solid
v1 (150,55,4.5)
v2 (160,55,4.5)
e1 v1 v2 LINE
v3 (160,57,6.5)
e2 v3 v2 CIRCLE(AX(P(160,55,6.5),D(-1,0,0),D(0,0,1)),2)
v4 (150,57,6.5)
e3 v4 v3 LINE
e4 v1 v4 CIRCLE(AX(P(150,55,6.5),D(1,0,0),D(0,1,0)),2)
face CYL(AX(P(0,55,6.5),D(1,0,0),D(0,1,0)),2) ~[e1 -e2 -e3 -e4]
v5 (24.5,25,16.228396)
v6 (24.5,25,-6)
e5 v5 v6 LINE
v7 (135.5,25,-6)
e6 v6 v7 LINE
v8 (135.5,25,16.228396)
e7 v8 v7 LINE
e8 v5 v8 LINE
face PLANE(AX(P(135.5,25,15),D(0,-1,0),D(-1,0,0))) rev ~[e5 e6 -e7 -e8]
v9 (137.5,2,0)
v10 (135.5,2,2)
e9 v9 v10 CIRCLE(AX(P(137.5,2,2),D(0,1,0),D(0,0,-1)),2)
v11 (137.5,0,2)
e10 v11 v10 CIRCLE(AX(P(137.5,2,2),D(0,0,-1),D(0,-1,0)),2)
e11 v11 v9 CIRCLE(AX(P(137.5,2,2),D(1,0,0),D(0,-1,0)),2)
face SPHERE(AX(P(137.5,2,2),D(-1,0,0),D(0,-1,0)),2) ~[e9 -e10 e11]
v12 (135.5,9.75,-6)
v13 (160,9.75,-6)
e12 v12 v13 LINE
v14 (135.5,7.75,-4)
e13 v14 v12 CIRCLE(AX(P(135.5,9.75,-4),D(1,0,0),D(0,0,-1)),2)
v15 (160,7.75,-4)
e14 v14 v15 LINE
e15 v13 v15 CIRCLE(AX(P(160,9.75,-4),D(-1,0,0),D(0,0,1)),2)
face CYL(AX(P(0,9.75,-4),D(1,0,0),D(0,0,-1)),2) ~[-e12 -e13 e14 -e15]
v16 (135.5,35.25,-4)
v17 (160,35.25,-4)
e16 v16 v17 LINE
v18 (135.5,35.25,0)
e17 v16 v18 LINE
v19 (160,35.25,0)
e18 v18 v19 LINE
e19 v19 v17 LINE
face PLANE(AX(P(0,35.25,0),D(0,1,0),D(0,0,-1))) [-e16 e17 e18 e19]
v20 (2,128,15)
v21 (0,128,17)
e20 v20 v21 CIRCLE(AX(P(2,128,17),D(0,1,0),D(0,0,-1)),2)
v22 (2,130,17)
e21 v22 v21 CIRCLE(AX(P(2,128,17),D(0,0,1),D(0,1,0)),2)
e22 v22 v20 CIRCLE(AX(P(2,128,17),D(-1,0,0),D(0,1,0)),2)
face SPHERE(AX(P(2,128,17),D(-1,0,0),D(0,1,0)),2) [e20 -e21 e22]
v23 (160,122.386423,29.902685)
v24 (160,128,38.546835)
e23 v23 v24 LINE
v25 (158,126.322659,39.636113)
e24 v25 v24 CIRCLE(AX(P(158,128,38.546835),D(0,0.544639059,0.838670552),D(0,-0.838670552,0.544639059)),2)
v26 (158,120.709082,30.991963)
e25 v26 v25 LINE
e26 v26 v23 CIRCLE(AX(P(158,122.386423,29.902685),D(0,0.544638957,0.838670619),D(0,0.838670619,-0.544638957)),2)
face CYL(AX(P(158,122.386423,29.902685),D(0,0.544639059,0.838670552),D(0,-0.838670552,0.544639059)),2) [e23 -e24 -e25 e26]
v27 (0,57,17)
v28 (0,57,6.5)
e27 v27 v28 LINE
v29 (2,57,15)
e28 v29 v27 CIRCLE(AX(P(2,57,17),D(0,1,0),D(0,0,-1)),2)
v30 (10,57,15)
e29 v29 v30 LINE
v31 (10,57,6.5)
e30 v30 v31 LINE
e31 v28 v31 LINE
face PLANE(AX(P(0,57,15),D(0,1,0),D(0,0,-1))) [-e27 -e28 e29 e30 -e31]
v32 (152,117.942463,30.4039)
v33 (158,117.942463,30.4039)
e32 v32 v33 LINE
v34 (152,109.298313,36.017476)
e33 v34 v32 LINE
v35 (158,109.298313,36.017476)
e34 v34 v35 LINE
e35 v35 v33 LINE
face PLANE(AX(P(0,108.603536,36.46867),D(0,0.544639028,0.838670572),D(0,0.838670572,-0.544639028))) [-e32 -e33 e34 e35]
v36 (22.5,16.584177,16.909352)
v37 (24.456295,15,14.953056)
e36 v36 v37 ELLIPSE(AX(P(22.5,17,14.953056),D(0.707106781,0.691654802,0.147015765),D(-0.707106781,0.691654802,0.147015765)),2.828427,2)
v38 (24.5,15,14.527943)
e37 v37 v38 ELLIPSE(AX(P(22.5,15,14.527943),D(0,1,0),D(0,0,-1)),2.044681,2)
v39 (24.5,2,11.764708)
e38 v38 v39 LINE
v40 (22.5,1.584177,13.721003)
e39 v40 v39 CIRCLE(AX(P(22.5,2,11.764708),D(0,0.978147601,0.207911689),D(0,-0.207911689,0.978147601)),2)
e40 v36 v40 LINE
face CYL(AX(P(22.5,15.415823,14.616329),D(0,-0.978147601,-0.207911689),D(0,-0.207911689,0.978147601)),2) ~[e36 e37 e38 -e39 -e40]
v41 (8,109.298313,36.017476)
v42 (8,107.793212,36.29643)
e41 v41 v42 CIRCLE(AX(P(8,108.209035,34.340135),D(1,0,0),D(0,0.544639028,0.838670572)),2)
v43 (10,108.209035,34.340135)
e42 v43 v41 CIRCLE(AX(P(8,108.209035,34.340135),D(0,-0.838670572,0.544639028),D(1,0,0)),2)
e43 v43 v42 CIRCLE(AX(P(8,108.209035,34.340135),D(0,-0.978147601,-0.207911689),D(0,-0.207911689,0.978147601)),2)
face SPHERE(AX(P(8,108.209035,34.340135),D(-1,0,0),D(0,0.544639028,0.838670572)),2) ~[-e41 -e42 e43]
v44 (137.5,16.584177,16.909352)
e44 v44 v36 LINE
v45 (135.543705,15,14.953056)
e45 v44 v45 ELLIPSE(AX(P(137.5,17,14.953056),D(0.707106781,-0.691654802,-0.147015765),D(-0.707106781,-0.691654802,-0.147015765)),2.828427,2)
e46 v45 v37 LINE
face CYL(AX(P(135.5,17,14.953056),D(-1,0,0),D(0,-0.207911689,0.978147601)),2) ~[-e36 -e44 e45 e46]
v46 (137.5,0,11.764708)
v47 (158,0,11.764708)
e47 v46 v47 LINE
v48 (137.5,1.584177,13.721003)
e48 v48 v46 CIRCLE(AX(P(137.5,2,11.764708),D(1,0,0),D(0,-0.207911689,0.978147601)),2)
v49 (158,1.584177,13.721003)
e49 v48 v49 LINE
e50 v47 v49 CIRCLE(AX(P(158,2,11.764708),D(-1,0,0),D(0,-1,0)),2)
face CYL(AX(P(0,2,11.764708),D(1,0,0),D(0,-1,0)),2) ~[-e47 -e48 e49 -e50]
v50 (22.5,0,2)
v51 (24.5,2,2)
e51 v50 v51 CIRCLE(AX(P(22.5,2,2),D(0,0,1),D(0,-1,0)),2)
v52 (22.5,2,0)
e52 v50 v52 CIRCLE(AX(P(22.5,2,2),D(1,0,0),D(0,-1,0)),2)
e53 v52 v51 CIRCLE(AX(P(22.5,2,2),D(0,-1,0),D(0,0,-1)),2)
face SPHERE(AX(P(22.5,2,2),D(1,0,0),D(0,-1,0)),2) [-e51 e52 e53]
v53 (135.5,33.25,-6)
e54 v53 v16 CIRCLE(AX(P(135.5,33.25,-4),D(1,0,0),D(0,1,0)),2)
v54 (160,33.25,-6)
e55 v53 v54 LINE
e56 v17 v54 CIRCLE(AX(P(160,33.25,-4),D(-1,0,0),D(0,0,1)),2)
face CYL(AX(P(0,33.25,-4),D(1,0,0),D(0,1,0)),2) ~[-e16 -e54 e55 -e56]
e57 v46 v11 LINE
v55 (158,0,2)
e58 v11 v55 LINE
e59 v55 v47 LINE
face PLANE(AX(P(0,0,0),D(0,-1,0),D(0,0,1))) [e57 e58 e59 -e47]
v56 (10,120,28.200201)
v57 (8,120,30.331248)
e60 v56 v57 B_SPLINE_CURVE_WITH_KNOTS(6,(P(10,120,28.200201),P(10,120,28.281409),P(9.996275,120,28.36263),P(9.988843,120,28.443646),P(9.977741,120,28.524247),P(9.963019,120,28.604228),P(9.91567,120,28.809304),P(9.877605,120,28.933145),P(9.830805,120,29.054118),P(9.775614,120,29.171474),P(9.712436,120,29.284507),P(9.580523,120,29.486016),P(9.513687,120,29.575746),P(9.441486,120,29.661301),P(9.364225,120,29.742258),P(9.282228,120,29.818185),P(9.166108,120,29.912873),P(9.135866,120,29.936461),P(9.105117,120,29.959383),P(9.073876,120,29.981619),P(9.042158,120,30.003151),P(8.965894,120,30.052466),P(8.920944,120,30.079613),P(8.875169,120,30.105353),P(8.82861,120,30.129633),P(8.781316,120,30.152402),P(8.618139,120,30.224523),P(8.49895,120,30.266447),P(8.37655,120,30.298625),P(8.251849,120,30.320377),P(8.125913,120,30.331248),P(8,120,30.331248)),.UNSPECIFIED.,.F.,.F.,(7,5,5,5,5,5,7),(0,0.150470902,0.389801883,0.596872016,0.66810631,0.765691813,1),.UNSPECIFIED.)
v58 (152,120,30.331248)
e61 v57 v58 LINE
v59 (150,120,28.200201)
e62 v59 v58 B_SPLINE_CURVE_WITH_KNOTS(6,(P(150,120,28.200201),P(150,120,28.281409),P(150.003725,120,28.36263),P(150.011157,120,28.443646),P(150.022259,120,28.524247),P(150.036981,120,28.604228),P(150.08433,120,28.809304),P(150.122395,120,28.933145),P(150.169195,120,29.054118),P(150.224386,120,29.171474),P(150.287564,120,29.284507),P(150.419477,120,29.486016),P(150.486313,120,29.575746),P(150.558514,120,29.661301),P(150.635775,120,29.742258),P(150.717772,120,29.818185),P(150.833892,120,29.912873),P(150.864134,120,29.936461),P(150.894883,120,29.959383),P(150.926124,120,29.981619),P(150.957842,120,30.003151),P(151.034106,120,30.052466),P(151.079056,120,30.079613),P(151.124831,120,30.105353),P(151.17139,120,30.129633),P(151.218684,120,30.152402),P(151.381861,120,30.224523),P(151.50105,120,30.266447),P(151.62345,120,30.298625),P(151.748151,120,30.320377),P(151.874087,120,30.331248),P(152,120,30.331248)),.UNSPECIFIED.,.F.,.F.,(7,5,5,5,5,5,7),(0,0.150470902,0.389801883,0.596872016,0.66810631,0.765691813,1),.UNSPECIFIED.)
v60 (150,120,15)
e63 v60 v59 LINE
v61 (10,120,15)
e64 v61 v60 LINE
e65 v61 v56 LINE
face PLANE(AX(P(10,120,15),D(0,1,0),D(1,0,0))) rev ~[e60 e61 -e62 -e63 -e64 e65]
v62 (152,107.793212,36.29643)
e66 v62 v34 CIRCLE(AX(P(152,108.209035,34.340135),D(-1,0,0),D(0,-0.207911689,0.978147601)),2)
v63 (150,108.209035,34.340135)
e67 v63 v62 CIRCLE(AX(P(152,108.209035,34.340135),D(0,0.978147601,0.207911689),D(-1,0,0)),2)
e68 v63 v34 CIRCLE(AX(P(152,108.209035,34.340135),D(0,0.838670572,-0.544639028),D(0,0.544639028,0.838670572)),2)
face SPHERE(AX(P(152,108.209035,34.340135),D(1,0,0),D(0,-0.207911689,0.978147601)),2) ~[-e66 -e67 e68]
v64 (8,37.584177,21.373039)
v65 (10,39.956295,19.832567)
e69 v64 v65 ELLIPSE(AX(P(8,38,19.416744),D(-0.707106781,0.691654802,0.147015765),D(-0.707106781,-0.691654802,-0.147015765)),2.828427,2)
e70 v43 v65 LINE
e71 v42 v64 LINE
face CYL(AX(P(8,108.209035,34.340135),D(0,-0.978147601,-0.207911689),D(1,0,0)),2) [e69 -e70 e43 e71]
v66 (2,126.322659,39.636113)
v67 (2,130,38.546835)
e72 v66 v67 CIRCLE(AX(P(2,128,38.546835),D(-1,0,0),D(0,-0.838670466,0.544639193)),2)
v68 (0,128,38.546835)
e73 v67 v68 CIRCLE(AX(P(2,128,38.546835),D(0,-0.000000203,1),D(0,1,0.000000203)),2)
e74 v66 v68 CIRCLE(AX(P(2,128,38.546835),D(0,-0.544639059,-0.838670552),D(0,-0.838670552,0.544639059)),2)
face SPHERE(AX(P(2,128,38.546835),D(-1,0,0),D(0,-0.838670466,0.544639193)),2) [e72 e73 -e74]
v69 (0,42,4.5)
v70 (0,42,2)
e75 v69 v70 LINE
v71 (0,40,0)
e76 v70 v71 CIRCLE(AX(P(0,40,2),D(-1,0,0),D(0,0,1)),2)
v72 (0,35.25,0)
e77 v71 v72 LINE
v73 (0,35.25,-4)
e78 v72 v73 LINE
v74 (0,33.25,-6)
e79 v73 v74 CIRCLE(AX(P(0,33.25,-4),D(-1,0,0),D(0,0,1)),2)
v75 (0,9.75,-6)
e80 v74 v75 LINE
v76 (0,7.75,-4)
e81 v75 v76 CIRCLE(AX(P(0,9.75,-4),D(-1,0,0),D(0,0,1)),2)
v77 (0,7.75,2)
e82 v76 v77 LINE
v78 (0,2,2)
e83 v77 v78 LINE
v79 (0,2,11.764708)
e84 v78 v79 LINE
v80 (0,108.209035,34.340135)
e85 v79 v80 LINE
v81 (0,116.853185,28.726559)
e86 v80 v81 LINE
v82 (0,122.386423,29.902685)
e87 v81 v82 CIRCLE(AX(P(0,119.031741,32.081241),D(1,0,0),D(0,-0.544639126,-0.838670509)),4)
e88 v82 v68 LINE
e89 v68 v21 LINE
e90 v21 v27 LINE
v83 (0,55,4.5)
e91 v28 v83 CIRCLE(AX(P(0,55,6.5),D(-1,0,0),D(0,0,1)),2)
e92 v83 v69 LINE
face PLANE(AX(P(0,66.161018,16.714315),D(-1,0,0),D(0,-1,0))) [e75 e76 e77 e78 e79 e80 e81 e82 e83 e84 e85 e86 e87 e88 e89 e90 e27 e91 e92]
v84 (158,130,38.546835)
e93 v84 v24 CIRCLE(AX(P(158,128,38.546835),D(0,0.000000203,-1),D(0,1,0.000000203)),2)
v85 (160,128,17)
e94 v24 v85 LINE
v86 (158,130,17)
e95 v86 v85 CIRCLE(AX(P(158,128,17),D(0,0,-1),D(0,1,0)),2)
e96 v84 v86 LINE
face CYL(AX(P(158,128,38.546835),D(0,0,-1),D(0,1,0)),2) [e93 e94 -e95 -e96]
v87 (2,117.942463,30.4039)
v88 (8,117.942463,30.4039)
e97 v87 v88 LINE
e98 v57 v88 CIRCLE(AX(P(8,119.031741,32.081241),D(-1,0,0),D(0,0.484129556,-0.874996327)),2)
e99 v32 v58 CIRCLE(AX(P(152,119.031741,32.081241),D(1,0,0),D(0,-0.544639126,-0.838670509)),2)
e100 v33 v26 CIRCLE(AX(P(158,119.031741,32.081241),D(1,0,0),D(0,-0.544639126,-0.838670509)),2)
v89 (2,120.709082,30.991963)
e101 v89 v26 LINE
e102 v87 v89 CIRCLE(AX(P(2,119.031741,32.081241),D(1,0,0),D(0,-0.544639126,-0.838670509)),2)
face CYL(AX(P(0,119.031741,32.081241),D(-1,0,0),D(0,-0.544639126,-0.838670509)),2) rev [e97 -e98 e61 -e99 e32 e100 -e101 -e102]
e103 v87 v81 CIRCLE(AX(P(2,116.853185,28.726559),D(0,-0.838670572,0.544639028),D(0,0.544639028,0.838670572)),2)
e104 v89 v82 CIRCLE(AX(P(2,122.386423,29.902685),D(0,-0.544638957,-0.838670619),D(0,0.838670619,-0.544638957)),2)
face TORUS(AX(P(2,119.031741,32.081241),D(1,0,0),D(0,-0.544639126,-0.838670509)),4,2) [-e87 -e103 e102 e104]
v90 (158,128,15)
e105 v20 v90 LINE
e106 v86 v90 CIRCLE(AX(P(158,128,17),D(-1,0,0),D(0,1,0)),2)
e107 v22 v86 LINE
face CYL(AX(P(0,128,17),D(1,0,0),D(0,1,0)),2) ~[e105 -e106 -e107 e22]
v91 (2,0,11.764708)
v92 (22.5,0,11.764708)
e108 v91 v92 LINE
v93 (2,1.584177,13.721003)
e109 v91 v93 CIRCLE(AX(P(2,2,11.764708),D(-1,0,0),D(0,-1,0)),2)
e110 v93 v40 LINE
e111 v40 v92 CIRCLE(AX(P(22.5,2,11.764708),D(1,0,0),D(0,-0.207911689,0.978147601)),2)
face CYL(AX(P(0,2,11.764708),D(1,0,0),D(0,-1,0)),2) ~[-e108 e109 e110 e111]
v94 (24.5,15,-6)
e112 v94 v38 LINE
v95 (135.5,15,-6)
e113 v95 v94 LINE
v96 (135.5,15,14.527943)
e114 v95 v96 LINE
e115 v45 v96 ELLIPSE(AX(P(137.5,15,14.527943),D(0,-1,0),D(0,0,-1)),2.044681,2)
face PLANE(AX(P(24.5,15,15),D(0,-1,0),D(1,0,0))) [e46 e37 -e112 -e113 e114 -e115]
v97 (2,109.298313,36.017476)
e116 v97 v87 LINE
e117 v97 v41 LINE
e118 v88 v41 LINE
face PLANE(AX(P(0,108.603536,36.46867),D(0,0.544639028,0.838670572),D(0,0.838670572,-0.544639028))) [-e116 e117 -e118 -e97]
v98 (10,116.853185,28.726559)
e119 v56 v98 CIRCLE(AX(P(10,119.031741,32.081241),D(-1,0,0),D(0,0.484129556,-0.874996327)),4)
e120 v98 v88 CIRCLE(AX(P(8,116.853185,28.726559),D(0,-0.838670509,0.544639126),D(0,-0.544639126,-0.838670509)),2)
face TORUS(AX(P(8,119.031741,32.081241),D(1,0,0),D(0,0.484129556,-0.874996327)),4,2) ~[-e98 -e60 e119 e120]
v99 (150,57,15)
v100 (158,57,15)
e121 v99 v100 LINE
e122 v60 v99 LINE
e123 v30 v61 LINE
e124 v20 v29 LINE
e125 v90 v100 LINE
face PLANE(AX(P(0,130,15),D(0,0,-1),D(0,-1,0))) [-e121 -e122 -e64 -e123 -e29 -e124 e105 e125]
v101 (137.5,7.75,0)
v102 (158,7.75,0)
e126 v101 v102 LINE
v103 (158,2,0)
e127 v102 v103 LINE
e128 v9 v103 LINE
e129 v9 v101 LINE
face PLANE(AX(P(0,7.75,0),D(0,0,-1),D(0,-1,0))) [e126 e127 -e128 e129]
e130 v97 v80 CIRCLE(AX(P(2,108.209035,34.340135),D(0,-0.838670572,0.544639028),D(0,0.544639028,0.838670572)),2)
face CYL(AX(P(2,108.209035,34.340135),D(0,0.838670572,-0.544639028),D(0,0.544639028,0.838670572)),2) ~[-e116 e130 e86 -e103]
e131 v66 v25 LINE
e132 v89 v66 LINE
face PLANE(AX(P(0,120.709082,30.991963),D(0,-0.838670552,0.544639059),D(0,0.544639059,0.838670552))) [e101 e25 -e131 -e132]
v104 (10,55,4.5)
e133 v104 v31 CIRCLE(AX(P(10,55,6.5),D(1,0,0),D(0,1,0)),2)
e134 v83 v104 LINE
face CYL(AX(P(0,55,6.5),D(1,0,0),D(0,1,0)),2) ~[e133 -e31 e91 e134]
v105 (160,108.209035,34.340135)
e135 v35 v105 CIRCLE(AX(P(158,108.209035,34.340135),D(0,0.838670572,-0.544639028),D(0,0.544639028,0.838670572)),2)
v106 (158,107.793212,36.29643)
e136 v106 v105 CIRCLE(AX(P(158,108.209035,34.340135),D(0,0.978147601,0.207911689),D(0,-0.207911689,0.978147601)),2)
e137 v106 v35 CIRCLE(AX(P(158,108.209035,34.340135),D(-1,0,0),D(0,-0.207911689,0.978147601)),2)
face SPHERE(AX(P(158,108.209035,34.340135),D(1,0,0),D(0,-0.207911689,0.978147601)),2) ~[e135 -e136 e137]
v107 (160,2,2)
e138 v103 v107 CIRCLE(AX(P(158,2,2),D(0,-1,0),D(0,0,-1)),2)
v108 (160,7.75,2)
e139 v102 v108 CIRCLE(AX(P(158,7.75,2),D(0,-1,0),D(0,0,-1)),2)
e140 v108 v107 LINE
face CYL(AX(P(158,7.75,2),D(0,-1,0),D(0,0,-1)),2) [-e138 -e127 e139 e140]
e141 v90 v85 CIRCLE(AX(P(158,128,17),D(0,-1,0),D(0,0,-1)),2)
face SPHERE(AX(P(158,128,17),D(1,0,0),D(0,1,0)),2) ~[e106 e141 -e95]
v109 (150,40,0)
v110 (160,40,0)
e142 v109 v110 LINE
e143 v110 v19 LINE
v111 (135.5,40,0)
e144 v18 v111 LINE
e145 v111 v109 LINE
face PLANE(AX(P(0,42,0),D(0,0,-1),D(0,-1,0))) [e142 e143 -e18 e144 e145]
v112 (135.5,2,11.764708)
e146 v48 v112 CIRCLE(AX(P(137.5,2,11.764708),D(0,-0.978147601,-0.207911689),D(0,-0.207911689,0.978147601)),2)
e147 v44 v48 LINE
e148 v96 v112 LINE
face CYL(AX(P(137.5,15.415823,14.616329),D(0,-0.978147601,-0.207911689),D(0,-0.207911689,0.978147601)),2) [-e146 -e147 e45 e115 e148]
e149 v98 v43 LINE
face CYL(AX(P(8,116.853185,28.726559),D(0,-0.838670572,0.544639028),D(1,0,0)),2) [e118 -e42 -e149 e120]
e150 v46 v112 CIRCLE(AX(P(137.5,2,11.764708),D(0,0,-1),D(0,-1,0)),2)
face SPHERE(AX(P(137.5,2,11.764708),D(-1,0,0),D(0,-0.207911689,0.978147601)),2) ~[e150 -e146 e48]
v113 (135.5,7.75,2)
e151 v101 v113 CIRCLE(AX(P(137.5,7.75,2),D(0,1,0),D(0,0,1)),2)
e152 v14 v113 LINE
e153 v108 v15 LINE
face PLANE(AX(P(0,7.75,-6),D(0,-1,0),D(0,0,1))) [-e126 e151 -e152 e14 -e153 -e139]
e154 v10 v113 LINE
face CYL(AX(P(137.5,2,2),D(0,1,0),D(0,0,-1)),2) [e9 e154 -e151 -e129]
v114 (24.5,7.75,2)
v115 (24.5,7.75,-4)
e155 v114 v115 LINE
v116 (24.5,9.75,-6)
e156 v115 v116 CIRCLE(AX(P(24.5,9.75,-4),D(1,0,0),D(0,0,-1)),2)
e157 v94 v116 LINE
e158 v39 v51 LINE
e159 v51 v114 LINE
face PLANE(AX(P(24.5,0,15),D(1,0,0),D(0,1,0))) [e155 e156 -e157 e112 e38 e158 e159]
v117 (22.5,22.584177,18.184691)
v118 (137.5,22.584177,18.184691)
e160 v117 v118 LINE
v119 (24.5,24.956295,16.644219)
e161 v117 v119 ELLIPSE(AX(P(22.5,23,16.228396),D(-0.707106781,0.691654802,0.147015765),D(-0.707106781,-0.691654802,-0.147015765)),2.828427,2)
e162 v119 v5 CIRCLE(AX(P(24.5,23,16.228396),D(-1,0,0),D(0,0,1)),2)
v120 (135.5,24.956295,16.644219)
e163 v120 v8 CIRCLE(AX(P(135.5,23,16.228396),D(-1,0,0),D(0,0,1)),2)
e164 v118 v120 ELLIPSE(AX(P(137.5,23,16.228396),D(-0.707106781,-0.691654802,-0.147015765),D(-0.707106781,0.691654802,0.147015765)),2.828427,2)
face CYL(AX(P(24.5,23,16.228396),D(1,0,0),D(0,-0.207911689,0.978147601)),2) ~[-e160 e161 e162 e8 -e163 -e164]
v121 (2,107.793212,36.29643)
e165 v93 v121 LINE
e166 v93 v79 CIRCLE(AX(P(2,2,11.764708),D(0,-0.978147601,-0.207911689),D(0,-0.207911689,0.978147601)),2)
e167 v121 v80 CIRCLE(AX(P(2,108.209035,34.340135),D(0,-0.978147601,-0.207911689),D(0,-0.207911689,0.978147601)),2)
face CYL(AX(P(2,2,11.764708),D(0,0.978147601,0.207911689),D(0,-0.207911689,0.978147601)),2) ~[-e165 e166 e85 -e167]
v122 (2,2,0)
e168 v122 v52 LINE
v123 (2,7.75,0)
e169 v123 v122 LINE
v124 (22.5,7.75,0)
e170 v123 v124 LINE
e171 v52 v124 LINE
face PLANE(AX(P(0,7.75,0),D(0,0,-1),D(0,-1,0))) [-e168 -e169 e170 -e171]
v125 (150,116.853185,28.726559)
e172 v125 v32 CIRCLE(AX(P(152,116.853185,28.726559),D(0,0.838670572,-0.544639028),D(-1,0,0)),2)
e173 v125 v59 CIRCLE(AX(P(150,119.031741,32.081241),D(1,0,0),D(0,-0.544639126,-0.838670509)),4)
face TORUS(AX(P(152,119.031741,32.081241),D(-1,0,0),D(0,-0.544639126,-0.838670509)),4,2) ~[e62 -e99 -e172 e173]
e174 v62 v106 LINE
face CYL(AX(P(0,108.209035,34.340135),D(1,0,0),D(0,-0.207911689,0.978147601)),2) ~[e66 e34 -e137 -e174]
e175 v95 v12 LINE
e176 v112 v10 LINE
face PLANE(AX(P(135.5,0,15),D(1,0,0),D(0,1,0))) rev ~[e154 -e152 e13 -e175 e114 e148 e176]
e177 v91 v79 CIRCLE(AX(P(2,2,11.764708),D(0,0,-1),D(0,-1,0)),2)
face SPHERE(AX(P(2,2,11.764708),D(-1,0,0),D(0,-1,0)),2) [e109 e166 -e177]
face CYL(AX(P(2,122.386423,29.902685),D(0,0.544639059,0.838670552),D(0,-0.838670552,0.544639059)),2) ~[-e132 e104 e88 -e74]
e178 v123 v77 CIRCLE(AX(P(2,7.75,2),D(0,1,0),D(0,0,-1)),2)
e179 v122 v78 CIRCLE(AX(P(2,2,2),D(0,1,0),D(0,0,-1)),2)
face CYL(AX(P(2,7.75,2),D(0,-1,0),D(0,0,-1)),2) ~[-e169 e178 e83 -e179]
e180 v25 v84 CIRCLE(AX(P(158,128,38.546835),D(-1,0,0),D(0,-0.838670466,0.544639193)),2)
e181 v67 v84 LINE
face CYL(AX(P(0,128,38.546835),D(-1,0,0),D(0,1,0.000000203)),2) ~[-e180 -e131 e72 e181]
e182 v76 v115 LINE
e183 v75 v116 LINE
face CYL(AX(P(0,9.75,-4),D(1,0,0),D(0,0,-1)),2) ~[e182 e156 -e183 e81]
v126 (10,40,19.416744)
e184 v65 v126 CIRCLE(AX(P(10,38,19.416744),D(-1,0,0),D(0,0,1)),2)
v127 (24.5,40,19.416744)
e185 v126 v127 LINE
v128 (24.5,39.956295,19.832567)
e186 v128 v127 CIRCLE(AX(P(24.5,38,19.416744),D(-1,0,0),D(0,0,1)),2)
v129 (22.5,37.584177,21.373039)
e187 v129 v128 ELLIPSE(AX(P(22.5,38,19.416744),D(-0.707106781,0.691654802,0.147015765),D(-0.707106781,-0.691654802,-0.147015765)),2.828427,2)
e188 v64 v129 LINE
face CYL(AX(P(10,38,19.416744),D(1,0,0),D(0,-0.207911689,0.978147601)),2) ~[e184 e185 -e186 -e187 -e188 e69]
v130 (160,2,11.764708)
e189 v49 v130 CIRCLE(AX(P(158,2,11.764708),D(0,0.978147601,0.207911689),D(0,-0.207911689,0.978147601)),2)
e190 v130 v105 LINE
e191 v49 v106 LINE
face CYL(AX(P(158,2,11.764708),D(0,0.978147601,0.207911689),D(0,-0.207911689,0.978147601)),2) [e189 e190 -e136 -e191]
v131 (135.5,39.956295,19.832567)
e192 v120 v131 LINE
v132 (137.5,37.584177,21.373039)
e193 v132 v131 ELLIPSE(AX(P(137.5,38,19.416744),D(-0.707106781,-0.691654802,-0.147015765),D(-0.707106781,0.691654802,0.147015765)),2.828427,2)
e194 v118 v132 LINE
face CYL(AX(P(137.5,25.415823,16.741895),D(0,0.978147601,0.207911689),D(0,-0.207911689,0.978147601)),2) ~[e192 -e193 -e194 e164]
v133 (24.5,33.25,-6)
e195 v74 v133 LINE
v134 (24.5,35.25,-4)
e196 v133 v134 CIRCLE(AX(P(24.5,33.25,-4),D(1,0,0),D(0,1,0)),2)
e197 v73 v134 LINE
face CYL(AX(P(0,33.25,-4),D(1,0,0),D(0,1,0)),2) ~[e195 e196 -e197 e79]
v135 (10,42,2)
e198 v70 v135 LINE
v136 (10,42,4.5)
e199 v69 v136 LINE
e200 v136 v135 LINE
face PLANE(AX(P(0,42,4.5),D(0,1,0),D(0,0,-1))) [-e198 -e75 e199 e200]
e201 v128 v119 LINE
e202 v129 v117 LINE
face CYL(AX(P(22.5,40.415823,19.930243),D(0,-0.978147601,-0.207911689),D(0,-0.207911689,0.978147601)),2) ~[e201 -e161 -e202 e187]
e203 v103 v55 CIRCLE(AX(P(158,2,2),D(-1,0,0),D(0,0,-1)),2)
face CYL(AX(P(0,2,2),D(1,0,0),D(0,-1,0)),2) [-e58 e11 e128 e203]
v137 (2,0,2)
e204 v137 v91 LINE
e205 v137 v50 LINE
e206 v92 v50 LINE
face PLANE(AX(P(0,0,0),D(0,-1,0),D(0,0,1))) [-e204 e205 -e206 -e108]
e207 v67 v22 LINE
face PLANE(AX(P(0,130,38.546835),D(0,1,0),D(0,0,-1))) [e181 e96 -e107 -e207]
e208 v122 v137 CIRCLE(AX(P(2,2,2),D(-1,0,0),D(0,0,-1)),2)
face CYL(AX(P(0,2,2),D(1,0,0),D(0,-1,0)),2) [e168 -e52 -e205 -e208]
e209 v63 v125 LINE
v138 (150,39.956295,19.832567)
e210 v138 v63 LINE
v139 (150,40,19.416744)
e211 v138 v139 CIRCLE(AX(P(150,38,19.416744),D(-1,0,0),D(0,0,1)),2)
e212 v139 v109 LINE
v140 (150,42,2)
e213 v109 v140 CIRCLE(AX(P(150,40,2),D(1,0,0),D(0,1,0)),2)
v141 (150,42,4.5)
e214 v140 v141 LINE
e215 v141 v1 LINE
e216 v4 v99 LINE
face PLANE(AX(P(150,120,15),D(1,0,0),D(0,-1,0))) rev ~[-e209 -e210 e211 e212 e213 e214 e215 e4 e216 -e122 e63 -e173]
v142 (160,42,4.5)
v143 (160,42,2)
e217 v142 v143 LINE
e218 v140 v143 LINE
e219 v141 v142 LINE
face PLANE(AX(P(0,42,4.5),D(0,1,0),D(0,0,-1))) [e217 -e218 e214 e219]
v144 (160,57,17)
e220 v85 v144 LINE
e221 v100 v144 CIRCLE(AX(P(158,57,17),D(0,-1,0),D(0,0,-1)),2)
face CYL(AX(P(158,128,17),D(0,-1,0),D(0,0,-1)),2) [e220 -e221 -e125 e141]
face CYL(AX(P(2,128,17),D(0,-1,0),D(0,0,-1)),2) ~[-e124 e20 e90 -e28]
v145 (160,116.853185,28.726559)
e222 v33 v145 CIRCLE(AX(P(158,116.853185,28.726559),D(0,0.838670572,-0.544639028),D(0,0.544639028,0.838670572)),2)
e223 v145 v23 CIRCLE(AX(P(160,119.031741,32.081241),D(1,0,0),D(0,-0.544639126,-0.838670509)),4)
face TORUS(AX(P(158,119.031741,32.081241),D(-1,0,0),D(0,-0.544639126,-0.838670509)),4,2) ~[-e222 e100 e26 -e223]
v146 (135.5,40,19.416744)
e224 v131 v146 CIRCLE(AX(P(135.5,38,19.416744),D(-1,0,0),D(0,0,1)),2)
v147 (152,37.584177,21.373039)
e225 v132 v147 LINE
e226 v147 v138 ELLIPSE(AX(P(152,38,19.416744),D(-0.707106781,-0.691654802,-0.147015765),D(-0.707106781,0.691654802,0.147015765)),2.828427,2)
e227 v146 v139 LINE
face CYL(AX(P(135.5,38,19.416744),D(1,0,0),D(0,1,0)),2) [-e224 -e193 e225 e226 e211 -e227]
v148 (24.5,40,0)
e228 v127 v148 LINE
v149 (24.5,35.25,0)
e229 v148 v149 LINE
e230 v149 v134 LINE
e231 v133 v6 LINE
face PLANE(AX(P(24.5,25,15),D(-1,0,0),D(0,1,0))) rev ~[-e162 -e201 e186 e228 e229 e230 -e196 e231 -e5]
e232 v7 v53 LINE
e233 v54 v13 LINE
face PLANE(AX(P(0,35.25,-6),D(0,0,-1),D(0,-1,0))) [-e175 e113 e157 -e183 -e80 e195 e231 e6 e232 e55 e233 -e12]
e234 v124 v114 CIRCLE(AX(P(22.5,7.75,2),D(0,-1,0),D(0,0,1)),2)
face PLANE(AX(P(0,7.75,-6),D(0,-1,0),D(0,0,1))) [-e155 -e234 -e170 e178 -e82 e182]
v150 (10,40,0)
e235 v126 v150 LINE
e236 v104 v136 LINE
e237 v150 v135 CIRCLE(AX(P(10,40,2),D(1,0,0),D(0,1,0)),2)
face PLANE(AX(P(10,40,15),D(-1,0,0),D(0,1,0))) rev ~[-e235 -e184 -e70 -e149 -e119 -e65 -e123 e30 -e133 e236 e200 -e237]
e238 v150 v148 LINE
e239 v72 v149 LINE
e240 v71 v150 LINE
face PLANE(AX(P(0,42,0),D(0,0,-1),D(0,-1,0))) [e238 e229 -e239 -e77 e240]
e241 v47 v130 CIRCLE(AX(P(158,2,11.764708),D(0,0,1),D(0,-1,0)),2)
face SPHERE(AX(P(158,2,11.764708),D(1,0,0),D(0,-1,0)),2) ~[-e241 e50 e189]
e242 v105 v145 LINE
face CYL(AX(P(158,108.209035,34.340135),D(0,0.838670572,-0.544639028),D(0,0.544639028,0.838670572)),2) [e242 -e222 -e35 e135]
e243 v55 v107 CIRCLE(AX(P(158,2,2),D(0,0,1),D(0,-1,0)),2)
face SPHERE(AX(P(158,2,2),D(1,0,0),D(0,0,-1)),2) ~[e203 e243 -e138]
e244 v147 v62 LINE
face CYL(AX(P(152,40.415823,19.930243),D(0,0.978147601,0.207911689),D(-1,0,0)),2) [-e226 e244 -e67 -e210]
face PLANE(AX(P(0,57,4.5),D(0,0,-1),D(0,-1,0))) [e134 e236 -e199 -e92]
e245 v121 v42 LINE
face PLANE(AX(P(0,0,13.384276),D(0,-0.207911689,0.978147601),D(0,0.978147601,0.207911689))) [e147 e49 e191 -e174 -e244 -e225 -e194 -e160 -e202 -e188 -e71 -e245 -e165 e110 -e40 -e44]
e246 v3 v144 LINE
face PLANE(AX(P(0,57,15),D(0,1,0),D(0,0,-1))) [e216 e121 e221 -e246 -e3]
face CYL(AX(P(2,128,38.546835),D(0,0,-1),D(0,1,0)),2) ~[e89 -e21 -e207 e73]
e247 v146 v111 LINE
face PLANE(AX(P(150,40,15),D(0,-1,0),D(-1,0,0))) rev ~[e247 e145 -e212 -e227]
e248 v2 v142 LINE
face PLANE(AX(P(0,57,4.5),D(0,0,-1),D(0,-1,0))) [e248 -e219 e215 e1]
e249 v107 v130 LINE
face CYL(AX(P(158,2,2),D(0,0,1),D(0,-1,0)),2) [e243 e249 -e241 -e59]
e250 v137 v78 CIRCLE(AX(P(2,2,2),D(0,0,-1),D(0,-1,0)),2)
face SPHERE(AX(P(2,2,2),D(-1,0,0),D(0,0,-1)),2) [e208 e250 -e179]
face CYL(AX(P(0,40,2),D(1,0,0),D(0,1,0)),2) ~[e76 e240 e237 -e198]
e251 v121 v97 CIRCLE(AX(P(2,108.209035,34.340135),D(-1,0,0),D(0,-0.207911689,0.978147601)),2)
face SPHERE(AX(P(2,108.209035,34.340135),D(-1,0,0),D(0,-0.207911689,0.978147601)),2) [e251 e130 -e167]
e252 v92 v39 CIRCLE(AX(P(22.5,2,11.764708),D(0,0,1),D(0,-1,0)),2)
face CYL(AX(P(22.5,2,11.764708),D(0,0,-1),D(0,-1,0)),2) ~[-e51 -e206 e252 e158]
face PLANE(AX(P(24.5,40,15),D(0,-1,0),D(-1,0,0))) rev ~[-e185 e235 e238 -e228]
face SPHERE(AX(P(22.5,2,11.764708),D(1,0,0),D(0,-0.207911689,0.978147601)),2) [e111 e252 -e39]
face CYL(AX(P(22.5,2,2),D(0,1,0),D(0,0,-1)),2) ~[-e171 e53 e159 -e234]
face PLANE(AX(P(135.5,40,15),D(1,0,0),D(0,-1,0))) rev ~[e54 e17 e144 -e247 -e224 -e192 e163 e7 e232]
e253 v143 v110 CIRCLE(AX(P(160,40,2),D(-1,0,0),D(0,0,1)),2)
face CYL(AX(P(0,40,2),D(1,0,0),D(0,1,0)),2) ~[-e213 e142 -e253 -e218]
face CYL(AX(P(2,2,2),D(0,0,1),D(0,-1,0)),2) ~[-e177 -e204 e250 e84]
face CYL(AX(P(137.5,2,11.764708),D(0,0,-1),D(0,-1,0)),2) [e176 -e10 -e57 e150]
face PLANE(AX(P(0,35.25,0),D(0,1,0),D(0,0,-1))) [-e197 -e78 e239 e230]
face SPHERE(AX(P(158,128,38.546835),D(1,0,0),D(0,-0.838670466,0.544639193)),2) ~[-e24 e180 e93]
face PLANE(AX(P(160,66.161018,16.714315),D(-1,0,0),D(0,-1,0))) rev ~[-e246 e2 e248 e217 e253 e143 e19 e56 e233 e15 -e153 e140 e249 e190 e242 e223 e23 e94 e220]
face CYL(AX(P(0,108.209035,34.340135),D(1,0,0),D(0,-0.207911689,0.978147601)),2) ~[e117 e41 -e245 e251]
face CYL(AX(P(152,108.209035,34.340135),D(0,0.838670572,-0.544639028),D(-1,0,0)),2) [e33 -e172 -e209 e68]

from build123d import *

# Parameters (mm, degrees)
PAD_DEPTH         = 160
FILLET_R          = 2
SKETCH001_W       = 15
SKETCH001_H       = 111
POCKET_DEPTH      = 25.547835
POCKET_DEPTH_BACK = -21.001
FILLET001_R       = 2


with BuildPart() as part:
    # Sketch → Pad (new body)
    with BuildSketch(Plane.YZ):
        with BuildLine():
            Line((0, 0), (0, 13.384276))
            Line((0, 13.384276), (108.603536, 36.46867))
            Line((108.603536, 36.46867), (117.942463, 30.4039))
            ThreePointArc((117.942463, 30.4039), (119.447565, 30.124946), (120.709082, 30.991963))
            Line((120.709082, 30.991963), (126.322659, 39.636113))
            ThreePointArc((130, 38.546835), (128.568031, 40.464474), (126.322659, 39.636113))
            Line((130, 38.546835), (130, 15))
            Line((130, 15), (57, 15))
            Line((57, 15), (57, 4.5))
            Line((57, 4.5), (42, 4.5))
            Line((42, 4.5), (42, 0))
            Line((42, 0), (35.25, 0))
            Line((35.25, 0), (35.25, -6))
            Line((35.25, -6), (7.75, -6))
            Line((7.75, -6), (7.75, 0))
            Line((7.75, 0), (0, 0))
        make_face()
    extrude(amount=PAD_DEPTH)

    # Fillet
    fillet_edges = [part.edges().sort_by_distance(p)[0] for p in [
        (80, 42, 0),
        (80, 35.25, -6),
        (80, 0, 13.384276),
        (80, 108.603536, 36.46867),
        (80, 130, 38.546835),
        (80, 130, 15),
        (80, 0, 0),
        (80, 57, 4.5),
        (80, 7.75, -6),
    ]]
    fillet(fillet_edges, radius=FILLET_R)

    # Sketch001 (on Face2 of Pad) → Pocket (cut, two sides)
    with BuildSketch(Plane.YX.offset(-15)) as pocket_sk:
        Polygon((25, 135.5), (25, 24.5), (40, 24.5), (40, 10), (120, 10), (120, 150), (40, 150), (40, 135.5), align=None)
        with Locations((7.5, 80)):
            Rectangle(SKETCH001_W, SKETCH001_H)
    extrude(amount=-POCKET_DEPTH, mode=Mode.SUBTRACT)
    extrude(pocket_sk.sketch, amount=-POCKET_DEPTH_BACK, mode=Mode.SUBTRACT)

    # Fillet001
    fillet001_edges = [part.edges().sort_by_distance(p)[0] for p in [
        (0, 54.688694, 25.008717),
        (160, 54.688694, 25.008717),
        (150, 73.896606, 29.091484),
        (10, 73.896606, 29.091484),
        (80, 25, 18.69819),
        (80, 15, 16.572624),
        (24.5, 0, 6.882354),
        (135.5, 0, 6.882354),
        (24.5, 32.5, 20.292364),
        (135.5, 32.5, 20.292364),
        (142.75, 40, 21.886538),
        (17.25, 40, 21.886538),
    ]]
    fillet(fillet001_edges, radius=FILLET001_R)


solid = part.part
